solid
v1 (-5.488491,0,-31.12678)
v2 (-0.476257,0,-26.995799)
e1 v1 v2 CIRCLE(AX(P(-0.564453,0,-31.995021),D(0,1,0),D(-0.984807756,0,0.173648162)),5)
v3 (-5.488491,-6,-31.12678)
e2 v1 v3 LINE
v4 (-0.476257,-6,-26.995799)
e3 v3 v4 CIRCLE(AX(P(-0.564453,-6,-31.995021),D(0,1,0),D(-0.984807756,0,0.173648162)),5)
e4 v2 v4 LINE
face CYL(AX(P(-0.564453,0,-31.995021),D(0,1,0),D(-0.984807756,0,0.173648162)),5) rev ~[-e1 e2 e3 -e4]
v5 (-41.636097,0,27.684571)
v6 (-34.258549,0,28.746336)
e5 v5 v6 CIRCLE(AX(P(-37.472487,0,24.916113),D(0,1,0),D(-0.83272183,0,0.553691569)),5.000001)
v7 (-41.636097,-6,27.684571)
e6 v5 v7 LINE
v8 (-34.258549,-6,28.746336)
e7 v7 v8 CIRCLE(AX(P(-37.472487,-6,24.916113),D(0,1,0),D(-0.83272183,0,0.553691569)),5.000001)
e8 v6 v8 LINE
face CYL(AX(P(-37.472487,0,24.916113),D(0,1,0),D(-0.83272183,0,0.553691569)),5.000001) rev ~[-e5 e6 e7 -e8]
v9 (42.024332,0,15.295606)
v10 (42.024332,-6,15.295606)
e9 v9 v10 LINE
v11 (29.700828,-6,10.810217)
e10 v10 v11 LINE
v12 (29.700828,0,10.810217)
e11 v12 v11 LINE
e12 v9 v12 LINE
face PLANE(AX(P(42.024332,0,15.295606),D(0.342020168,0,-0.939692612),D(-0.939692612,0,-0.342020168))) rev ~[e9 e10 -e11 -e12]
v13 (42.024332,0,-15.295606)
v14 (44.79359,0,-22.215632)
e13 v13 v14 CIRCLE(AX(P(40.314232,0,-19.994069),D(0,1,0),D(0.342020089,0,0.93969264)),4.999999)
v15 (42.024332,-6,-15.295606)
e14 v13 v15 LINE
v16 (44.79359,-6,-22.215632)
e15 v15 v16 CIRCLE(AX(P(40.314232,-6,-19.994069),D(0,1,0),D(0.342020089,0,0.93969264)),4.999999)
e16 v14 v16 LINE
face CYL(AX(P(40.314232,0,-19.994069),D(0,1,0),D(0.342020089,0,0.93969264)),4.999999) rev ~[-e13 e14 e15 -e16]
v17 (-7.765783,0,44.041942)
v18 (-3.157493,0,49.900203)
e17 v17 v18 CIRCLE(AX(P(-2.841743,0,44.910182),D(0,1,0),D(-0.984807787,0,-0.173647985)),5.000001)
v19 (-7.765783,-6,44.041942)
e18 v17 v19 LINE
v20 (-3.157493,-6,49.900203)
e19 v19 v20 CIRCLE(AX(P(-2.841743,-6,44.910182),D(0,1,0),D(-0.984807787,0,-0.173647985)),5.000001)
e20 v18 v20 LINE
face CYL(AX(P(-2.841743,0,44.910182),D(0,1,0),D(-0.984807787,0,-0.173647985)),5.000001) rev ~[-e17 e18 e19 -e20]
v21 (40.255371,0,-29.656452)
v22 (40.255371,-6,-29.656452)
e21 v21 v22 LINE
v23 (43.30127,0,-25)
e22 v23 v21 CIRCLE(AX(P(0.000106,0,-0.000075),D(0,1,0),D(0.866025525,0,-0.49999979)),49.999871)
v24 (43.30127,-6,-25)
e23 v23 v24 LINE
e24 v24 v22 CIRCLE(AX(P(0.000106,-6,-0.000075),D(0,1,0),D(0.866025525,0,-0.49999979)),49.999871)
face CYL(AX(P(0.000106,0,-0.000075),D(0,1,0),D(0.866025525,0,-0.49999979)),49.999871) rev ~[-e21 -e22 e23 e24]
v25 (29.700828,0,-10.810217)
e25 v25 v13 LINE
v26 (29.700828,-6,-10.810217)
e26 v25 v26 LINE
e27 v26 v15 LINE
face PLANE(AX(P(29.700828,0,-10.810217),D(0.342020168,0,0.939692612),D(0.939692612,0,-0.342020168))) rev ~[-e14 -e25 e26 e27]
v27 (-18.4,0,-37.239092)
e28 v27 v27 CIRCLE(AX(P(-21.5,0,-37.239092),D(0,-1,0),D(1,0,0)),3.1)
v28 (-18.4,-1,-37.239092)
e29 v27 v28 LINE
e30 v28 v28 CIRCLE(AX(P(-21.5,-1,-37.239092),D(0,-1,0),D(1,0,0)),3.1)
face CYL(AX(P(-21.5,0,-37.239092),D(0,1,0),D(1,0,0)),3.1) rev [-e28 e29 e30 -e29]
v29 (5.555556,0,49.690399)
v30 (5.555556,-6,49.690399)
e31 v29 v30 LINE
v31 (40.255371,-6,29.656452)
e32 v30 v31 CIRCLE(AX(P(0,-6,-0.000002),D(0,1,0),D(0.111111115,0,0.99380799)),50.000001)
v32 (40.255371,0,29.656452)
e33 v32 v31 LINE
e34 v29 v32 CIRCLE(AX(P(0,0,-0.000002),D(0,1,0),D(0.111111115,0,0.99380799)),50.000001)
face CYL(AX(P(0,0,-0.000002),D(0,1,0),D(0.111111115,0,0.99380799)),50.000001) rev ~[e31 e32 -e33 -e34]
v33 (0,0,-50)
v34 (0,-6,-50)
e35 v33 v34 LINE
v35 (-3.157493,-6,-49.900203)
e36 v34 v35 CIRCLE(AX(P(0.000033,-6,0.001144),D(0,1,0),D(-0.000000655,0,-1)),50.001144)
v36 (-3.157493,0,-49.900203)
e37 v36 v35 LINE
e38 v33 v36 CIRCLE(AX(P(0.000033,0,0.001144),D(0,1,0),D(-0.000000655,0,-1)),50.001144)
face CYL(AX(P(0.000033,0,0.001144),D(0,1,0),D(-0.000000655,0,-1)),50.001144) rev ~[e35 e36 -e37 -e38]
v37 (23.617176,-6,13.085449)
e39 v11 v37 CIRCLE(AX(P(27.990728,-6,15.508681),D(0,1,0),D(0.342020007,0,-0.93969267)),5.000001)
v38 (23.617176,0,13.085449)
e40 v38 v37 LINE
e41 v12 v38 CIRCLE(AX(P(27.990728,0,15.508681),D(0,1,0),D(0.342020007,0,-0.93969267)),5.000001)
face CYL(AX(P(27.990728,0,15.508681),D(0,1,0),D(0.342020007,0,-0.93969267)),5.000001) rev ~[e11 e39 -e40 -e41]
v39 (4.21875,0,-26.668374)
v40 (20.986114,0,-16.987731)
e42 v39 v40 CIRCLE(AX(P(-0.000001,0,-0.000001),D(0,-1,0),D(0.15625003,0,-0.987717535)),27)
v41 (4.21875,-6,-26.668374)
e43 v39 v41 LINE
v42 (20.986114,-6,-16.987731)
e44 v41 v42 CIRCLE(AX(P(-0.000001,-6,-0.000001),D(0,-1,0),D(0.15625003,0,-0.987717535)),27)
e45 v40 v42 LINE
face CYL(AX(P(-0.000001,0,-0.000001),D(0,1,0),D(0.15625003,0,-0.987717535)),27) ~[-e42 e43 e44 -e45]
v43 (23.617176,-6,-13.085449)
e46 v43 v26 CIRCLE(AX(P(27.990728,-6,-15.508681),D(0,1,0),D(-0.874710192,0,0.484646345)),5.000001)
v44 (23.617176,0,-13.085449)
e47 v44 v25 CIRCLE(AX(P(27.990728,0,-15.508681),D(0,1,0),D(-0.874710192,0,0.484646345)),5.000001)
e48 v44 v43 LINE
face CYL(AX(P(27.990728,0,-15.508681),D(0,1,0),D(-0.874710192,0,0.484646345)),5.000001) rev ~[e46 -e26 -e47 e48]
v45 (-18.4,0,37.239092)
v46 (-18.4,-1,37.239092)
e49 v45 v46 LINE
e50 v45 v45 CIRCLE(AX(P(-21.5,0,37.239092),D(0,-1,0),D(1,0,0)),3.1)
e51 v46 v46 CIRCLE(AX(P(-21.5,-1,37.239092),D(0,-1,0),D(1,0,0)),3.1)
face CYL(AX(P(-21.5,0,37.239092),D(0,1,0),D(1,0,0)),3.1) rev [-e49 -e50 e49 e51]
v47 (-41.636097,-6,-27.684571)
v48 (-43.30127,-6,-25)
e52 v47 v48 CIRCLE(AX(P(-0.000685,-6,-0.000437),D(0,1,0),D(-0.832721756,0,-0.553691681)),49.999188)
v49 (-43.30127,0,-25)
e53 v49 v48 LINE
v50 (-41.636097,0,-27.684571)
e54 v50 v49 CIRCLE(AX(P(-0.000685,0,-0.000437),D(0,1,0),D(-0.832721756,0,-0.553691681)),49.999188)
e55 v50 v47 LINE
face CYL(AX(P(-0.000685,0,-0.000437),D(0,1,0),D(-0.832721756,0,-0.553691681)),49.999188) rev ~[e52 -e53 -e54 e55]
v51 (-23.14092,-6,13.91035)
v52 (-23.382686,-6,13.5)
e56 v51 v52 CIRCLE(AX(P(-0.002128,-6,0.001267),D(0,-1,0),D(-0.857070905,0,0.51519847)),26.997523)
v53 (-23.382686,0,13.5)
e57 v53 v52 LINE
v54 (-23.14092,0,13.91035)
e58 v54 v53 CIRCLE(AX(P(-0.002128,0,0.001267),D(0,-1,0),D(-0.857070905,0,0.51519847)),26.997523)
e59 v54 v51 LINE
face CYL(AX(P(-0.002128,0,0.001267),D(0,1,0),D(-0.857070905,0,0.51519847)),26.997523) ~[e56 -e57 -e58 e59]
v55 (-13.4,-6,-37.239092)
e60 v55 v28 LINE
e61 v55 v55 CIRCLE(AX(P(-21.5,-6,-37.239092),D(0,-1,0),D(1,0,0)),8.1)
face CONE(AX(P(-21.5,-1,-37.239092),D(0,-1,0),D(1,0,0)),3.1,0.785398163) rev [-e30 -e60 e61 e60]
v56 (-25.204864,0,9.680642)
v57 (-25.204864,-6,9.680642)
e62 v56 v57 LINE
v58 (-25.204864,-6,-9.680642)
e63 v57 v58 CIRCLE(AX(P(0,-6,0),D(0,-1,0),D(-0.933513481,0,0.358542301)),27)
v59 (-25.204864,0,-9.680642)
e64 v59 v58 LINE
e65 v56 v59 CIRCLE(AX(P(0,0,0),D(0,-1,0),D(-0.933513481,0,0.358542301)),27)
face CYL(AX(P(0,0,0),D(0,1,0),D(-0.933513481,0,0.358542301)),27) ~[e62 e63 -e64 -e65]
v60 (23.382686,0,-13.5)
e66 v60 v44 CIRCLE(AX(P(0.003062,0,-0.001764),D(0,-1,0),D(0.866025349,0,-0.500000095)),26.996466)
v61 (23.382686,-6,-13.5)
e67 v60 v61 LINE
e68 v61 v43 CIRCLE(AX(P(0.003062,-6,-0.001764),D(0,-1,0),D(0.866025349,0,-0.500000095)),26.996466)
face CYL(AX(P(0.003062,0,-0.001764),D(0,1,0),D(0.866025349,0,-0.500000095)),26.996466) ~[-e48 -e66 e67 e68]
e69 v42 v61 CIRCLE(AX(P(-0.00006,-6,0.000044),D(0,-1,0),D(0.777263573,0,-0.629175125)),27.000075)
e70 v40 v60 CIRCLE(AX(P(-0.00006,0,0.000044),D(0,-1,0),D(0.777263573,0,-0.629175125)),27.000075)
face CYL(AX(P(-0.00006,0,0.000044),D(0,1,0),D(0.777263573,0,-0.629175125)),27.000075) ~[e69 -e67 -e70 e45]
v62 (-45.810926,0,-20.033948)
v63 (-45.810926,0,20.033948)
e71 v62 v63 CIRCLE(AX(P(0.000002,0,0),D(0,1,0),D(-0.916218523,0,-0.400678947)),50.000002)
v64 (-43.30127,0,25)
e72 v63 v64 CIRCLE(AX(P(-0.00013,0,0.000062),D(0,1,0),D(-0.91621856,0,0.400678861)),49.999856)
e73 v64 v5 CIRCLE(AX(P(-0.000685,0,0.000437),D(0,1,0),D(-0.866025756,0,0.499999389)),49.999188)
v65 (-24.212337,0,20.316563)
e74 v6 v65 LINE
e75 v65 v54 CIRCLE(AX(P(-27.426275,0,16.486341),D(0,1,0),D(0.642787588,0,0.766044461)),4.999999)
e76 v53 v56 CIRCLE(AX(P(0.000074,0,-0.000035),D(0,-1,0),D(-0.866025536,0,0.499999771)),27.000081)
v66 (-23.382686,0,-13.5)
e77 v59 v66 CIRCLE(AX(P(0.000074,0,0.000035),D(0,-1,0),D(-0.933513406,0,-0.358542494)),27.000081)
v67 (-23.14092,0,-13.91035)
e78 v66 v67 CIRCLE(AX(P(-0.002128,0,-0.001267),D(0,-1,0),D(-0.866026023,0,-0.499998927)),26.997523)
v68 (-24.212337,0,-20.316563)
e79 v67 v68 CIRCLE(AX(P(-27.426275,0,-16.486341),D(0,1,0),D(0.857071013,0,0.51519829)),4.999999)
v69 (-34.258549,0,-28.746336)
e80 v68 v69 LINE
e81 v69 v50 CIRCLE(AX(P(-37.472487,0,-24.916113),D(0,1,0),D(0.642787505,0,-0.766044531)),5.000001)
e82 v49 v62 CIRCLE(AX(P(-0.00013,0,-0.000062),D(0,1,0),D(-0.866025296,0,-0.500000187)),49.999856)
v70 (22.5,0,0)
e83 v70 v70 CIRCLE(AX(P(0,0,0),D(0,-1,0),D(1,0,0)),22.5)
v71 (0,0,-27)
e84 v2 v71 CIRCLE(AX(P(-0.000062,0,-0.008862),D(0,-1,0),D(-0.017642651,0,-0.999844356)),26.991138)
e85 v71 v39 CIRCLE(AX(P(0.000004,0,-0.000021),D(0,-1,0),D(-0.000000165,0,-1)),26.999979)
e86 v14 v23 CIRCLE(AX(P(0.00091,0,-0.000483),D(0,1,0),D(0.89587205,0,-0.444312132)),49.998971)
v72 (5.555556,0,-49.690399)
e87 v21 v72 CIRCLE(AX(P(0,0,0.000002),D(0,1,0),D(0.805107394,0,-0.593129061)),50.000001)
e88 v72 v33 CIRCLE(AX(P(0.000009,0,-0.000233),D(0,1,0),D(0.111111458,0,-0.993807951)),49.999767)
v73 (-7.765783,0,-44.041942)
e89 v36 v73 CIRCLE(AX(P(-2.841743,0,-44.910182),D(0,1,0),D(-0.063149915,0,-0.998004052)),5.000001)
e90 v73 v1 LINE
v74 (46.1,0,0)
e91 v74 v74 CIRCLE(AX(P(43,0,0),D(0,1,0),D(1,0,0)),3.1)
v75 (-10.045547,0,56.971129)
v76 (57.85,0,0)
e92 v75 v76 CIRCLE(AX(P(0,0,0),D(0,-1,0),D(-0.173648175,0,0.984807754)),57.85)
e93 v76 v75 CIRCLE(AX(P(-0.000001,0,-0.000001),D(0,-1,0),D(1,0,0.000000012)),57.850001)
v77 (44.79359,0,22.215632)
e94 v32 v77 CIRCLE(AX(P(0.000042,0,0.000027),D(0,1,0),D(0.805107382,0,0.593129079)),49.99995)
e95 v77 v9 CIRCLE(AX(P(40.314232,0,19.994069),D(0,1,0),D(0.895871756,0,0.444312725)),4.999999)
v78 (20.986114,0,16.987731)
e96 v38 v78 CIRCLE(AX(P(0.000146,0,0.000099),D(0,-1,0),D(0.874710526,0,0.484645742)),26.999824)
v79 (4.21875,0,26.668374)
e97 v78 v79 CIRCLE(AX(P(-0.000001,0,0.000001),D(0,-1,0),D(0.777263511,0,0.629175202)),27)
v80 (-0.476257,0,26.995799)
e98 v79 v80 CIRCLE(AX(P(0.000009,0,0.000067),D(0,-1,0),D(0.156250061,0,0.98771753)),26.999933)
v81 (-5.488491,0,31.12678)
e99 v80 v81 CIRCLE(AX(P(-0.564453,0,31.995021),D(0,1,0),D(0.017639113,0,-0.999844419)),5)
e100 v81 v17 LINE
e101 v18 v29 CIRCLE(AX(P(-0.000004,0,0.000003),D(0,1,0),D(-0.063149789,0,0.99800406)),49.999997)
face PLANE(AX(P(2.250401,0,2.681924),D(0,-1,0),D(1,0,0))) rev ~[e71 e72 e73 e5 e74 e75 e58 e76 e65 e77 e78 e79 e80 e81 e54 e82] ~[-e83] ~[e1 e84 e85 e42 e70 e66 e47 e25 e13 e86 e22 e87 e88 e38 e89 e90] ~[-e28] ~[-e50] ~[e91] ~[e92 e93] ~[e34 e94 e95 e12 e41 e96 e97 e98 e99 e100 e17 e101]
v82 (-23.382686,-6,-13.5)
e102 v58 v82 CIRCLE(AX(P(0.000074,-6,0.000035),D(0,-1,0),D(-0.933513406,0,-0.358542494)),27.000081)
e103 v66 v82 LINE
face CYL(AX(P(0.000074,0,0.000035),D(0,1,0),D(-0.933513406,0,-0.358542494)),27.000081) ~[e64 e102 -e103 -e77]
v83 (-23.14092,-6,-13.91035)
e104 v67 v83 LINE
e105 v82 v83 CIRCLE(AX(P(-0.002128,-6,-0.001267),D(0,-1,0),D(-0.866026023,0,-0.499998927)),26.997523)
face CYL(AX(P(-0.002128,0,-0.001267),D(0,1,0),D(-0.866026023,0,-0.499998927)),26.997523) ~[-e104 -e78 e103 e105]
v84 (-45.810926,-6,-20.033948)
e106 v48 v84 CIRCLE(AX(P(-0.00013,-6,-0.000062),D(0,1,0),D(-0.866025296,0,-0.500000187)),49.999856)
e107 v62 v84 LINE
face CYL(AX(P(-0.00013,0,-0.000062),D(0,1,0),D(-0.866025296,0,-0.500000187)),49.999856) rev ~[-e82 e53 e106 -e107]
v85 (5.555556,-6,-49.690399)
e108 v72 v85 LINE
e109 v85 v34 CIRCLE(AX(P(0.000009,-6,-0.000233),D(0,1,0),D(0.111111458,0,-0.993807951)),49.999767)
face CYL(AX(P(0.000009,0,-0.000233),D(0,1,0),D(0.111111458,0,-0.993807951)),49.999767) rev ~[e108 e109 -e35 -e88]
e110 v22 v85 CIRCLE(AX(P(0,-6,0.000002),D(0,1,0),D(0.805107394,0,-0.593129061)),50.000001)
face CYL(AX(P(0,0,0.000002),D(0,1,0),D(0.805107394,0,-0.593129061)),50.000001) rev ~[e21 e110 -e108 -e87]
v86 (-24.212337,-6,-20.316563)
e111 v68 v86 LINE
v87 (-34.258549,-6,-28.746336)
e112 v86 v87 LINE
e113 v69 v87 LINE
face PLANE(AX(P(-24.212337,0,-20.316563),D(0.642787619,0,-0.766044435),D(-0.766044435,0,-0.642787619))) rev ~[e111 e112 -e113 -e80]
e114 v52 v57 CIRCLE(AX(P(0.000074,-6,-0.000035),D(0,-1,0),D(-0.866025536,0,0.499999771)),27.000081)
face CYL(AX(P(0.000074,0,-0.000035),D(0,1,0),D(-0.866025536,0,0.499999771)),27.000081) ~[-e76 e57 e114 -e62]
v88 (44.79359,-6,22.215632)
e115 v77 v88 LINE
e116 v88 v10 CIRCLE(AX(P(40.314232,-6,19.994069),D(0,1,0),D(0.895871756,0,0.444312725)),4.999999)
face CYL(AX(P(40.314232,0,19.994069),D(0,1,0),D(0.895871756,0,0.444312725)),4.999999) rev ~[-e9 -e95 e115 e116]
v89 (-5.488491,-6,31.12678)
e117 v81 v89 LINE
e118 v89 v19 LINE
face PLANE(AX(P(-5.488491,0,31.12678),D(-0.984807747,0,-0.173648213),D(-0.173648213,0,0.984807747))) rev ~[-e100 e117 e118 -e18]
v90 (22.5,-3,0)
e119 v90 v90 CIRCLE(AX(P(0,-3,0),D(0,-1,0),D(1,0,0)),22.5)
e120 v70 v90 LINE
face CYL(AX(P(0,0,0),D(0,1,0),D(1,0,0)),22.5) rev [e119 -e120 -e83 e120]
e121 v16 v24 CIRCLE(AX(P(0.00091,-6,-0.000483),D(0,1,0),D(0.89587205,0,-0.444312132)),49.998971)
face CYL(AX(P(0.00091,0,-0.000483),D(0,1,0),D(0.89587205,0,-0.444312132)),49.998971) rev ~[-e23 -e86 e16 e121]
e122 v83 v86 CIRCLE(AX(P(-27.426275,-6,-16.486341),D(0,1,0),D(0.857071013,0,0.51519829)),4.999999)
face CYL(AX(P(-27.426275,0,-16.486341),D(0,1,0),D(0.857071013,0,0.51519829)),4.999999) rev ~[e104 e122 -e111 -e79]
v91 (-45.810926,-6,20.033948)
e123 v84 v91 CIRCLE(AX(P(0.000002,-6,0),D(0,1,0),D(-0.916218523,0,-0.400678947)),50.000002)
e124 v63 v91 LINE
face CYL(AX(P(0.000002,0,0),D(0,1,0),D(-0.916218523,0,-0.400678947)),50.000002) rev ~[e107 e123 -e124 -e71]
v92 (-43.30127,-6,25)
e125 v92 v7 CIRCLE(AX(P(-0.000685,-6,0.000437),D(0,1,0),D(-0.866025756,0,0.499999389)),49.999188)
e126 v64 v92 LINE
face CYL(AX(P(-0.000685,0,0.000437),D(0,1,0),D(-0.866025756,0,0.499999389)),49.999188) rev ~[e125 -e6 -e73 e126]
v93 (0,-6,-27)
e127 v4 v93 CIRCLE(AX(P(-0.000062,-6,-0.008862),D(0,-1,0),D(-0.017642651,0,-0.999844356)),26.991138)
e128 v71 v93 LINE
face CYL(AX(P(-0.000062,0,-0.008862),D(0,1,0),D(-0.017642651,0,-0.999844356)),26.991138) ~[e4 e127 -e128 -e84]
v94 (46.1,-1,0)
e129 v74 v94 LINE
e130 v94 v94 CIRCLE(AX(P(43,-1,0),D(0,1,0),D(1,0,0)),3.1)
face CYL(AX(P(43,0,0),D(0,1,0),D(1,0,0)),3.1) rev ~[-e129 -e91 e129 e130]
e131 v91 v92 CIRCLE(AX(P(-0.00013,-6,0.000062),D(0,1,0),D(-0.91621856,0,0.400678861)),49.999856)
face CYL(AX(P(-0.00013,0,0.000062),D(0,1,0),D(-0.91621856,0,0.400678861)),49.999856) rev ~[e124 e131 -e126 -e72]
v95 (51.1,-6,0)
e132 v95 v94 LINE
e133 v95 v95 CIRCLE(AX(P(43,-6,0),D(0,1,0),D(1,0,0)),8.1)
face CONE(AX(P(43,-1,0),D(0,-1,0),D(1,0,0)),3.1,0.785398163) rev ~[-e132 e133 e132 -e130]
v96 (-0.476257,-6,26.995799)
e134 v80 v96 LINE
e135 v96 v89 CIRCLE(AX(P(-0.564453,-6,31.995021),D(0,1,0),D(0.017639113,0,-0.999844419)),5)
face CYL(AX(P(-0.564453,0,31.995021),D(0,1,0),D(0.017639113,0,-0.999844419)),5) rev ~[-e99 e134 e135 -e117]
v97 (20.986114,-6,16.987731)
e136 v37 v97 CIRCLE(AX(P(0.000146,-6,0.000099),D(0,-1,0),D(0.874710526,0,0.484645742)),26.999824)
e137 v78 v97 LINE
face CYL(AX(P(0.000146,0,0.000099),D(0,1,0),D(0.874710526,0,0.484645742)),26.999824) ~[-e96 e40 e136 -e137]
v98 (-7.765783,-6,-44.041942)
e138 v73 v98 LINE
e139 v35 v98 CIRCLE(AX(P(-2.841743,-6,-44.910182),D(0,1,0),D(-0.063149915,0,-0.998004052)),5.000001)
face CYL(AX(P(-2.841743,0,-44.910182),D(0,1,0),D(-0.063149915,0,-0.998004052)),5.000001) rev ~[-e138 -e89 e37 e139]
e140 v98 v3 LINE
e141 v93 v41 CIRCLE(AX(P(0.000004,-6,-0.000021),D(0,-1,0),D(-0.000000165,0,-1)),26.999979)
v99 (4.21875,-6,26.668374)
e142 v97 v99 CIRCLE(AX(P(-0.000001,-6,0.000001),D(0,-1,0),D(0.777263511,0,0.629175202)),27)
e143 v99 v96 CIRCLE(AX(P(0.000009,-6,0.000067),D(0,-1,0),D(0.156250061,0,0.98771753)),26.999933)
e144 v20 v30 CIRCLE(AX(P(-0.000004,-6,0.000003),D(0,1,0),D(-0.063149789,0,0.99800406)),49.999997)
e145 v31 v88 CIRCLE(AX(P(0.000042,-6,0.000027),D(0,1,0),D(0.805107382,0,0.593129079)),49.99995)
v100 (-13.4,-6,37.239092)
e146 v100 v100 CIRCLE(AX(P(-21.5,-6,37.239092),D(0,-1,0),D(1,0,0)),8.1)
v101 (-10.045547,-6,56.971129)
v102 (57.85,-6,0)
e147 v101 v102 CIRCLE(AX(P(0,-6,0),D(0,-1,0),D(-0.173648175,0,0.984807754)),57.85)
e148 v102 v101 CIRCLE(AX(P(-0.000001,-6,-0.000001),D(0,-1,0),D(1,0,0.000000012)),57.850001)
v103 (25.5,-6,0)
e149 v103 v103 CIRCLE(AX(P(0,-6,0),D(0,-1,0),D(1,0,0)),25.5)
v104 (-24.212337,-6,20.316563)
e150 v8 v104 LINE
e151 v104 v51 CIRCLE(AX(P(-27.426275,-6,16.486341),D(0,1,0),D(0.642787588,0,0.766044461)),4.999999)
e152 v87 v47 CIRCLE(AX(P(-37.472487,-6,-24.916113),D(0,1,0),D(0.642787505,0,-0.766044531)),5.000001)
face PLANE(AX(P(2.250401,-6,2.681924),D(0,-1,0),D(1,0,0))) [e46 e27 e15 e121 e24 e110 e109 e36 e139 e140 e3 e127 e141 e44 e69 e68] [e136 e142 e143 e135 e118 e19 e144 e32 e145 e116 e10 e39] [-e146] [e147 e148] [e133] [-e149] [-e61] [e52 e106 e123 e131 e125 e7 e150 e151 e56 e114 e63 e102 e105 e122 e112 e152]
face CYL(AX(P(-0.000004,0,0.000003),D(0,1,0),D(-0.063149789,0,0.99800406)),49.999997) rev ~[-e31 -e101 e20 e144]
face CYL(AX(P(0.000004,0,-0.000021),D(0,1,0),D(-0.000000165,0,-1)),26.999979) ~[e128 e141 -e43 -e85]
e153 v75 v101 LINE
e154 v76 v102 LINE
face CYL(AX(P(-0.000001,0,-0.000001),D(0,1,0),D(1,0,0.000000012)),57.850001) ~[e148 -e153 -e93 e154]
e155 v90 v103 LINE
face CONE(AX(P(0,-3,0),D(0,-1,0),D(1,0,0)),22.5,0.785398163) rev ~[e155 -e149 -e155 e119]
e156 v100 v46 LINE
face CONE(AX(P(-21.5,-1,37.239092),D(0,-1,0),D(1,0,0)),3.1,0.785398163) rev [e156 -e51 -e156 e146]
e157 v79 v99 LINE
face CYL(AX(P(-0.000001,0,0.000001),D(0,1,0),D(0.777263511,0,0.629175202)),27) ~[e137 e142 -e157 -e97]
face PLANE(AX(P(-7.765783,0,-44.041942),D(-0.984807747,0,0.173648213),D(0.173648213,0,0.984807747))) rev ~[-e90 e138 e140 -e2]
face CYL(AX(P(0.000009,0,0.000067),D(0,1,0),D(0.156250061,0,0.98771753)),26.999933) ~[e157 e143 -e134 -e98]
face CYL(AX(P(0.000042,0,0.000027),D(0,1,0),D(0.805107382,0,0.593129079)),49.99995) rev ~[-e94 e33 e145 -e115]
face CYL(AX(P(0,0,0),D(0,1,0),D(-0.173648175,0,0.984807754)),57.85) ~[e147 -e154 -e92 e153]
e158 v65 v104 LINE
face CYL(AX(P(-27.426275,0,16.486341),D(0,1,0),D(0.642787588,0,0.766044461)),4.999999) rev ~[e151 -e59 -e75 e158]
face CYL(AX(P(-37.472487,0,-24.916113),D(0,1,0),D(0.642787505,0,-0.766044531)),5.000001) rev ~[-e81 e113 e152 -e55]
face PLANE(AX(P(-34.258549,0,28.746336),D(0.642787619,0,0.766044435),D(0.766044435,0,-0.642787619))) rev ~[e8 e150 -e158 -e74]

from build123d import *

# Parameters (mm, degrees)
F0_R     = 3.1
F0_R_2   = 22.5
F1_DEPTH = 6
F2_SIZE2 = 3
F2_SIZE  = 3
F3_SIZE2 = 5
F3_SIZE  = 5
F4_SIZE  = 5
F5_SIZE2 = 5
F5_SIZE  = 5


with BuildPart() as f1:
    # F0 (on Front) → F1 (new body)
    with BuildSketch(Plane.XZ):
        with BuildLine():
            ThreePointArc((-10.045547, 56.971129), (-37.185263, -44.315671), (57.85, 0))
            ThreePointArc((57.85, 0), (37.185263, 44.315671), (-10.045547, 56.971129))
        make_face()
        with Locations((-21.5, -37.239092)):
            Circle(F0_R, mode=Mode.SUBTRACT)
        with BuildLine():
            ThreePointArc((-23.382686, 13.5), (-24.368717, 11.626075), (-25.204864, 9.680642))
            ThreePointArc((-25.204864, 9.680642), (-27, 0), (-25.204864, -9.680642))
            ThreePointArc((-25.204864, -9.680642), (-24.368717, -11.626075), (-23.382686, -13.5))
            ThreePointArc((-23.382686, -13.5), (-23.262708, -13.705708), (-23.14092, -13.91035))
            ThreePointArc((-23.14092, -13.91035), (-22.49477, -17.311118), (-24.212337, -20.316563))
            Line((-24.212337, -20.316563), (-34.258549, -28.746336))
            ThreePointArc((-34.258549, -28.746336), (-38.184741, -29.865123), (-41.636097, -27.684571))
            ThreePointArc((-41.636097, -27.684571), (-42.489891, -26.35544), (-43.30127, -25))
            ThreePointArc((-43.30127, -25), (-44.625232, -22.551911), (-45.810926, -20.033948))
            ThreePointArc((-45.810926, -20.033948), (-50, 0), (-45.810926, 20.033948))
            ThreePointArc((-45.810926, 20.033948), (-44.625232, 22.551911), (-43.30127, 25))
            ThreePointArc((-43.30127, 25), (-42.489891, 26.35544), (-41.636097, 27.684571))
            ThreePointArc((-41.636097, 27.684571), (-38.184741, 29.865123), (-34.258549, 28.746336))
            Line((-34.258549, 28.746336), (-24.212337, 20.316563))
            ThreePointArc((-24.212337, 20.316563), (-22.49477, 17.311118), (-23.14092, 13.91035))
            ThreePointArc((-23.14092, 13.91035), (-23.262708, 13.705708), (-23.382686, 13.5))
        make_face(mode=Mode.SUBTRACT)
        Circle(F0_R_2, mode=Mode.SUBTRACT)
        with BuildLine():
            ThreePointArc((4.21875, -26.668374), (13.5, -23.382686), (20.986114, -16.987731))
            ThreePointArc((20.986114, -16.987731), (22.252835, -15.29089), (23.382686, -13.5))
            ThreePointArc((23.382686, -13.5), (23.500845, -13.293242), (23.617176, -13.085449))
            ThreePointArc((23.617176, -13.085449), (26.239253, -10.825483), (29.700828, -10.810217))
            Line((29.700828, -10.810217), (42.024332, -15.295606))
            ThreePointArc((42.024332, -15.295606), (44.956326, -18.136394), (44.79359, -22.215632))
            ThreePointArc((44.79359, -22.215632), (44.069426, -23.619605), (43.30127, -25))
            ThreePointArc((43.30127, -25), (41.843144, -27.370629), (40.255371, -29.656452))
            ThreePointArc((40.255371, -29.656452), (25, -43.30127), (5.555556, -49.690399))
            ThreePointArc((5.555556, -49.690399), (2.782088, -49.92254), (0, -50))
            ThreePointArc((0, -50), (-1.579535, -49.975044), (-3.157493, -49.900203))
            ThreePointArc((-3.157493, -49.900203), (-6.771585, -48.001517), (-7.765783, -44.041942))
            Line((-7.765783, -44.041942), (-5.488491, -31.12678))
            ThreePointArc((-5.488491, -31.12678), (-3.744483, -28.136601), (-0.476257, -26.995799))
            ThreePointArc((-0.476257, -26.995799), (-0.238138, -26.99895), (0, -27))
            ThreePointArc((0, -27), (2.115882, -26.916966), (4.21875, -26.668374))
        make_face(mode=Mode.SUBTRACT)
        with BuildLine():
            ThreePointArc((39.9, 0), (43, 3.1), (46.1, 0))
            ThreePointArc((46.1, 0), (43, -3.1), (39.9, 0))
        make_face(mode=Mode.SUBTRACT)
        with Locations((-21.5, 37.239092)):
            Circle(F0_R, mode=Mode.SUBTRACT)
        with BuildLine():
            ThreePointArc((20.986114, 16.987731), (13.5, 23.382686), (4.21875, 26.668374))
            ThreePointArc((4.21875, 26.668374), (1.878394, 26.934581), (-0.476257, 26.995799))
            ThreePointArc((-0.476257, 26.995799), (-3.744483, 28.136601), (-5.488491, 31.12678))
            Line((-5.488491, 31.12678), (-7.765783, 44.041942))
            ThreePointArc((-7.765783, 44.041942), (-6.771585, 48.001517), (-3.157493, 49.900203))
            ThreePointArc((-3.157493, 49.900203), (1.203611, 49.985511), (5.555556, 49.690399))
            ThreePointArc((5.555556, 49.690399), (25, 43.30127), (40.255371, 29.656452))
            ThreePointArc((40.255371, 29.656452), (42.686917, 26.035114), (44.79359, 22.215632))
            ThreePointArc((44.79359, 22.215632), (44.956326, 18.136394), (42.024332, 15.295606))
            Line((42.024332, 15.295606), (29.700828, 10.810217))
            ThreePointArc((29.700828, 10.810217), (26.239253, 10.825483), (23.617176, 13.085449))
            ThreePointArc((23.617176, 13.085449), (22.386834, 15.094028), (20.986114, 16.987731))
        make_face(mode=Mode.SUBTRACT)
    extrude(amount=F1_DEPTH)

    # F2
    f2_edges = [f1.edges().sort_by_distance(p)[0] for p in [
        (-22.5, -6, 0),
    ]]
    chamfer(f2_edges, length=F2_SIZE, length2=F2_SIZE2)

    # F3
    f3_edges = [f1.edges().sort_by_distance(p)[0] for p in [
        (-24.6, -6, 37.239092),
    ]]
    chamfer(f3_edges, length=F3_SIZE, length2=F3_SIZE2)

    # F4
    f4_edges = [f1.edges().sort_by_distance(p)[0] for p in [
        (-24.6, -6, -37.239092),
    ]]
    chamfer(f4_edges, length=F4_SIZE)

    # F5
    f5_edges = [f1.edges().sort_by_distance(p)[0] for p in [
        (39.9, -6, 0),
    ]]
    chamfer(f5_edges, length=F5_SIZE, length2=F5_SIZE2)


solid = f1.part
